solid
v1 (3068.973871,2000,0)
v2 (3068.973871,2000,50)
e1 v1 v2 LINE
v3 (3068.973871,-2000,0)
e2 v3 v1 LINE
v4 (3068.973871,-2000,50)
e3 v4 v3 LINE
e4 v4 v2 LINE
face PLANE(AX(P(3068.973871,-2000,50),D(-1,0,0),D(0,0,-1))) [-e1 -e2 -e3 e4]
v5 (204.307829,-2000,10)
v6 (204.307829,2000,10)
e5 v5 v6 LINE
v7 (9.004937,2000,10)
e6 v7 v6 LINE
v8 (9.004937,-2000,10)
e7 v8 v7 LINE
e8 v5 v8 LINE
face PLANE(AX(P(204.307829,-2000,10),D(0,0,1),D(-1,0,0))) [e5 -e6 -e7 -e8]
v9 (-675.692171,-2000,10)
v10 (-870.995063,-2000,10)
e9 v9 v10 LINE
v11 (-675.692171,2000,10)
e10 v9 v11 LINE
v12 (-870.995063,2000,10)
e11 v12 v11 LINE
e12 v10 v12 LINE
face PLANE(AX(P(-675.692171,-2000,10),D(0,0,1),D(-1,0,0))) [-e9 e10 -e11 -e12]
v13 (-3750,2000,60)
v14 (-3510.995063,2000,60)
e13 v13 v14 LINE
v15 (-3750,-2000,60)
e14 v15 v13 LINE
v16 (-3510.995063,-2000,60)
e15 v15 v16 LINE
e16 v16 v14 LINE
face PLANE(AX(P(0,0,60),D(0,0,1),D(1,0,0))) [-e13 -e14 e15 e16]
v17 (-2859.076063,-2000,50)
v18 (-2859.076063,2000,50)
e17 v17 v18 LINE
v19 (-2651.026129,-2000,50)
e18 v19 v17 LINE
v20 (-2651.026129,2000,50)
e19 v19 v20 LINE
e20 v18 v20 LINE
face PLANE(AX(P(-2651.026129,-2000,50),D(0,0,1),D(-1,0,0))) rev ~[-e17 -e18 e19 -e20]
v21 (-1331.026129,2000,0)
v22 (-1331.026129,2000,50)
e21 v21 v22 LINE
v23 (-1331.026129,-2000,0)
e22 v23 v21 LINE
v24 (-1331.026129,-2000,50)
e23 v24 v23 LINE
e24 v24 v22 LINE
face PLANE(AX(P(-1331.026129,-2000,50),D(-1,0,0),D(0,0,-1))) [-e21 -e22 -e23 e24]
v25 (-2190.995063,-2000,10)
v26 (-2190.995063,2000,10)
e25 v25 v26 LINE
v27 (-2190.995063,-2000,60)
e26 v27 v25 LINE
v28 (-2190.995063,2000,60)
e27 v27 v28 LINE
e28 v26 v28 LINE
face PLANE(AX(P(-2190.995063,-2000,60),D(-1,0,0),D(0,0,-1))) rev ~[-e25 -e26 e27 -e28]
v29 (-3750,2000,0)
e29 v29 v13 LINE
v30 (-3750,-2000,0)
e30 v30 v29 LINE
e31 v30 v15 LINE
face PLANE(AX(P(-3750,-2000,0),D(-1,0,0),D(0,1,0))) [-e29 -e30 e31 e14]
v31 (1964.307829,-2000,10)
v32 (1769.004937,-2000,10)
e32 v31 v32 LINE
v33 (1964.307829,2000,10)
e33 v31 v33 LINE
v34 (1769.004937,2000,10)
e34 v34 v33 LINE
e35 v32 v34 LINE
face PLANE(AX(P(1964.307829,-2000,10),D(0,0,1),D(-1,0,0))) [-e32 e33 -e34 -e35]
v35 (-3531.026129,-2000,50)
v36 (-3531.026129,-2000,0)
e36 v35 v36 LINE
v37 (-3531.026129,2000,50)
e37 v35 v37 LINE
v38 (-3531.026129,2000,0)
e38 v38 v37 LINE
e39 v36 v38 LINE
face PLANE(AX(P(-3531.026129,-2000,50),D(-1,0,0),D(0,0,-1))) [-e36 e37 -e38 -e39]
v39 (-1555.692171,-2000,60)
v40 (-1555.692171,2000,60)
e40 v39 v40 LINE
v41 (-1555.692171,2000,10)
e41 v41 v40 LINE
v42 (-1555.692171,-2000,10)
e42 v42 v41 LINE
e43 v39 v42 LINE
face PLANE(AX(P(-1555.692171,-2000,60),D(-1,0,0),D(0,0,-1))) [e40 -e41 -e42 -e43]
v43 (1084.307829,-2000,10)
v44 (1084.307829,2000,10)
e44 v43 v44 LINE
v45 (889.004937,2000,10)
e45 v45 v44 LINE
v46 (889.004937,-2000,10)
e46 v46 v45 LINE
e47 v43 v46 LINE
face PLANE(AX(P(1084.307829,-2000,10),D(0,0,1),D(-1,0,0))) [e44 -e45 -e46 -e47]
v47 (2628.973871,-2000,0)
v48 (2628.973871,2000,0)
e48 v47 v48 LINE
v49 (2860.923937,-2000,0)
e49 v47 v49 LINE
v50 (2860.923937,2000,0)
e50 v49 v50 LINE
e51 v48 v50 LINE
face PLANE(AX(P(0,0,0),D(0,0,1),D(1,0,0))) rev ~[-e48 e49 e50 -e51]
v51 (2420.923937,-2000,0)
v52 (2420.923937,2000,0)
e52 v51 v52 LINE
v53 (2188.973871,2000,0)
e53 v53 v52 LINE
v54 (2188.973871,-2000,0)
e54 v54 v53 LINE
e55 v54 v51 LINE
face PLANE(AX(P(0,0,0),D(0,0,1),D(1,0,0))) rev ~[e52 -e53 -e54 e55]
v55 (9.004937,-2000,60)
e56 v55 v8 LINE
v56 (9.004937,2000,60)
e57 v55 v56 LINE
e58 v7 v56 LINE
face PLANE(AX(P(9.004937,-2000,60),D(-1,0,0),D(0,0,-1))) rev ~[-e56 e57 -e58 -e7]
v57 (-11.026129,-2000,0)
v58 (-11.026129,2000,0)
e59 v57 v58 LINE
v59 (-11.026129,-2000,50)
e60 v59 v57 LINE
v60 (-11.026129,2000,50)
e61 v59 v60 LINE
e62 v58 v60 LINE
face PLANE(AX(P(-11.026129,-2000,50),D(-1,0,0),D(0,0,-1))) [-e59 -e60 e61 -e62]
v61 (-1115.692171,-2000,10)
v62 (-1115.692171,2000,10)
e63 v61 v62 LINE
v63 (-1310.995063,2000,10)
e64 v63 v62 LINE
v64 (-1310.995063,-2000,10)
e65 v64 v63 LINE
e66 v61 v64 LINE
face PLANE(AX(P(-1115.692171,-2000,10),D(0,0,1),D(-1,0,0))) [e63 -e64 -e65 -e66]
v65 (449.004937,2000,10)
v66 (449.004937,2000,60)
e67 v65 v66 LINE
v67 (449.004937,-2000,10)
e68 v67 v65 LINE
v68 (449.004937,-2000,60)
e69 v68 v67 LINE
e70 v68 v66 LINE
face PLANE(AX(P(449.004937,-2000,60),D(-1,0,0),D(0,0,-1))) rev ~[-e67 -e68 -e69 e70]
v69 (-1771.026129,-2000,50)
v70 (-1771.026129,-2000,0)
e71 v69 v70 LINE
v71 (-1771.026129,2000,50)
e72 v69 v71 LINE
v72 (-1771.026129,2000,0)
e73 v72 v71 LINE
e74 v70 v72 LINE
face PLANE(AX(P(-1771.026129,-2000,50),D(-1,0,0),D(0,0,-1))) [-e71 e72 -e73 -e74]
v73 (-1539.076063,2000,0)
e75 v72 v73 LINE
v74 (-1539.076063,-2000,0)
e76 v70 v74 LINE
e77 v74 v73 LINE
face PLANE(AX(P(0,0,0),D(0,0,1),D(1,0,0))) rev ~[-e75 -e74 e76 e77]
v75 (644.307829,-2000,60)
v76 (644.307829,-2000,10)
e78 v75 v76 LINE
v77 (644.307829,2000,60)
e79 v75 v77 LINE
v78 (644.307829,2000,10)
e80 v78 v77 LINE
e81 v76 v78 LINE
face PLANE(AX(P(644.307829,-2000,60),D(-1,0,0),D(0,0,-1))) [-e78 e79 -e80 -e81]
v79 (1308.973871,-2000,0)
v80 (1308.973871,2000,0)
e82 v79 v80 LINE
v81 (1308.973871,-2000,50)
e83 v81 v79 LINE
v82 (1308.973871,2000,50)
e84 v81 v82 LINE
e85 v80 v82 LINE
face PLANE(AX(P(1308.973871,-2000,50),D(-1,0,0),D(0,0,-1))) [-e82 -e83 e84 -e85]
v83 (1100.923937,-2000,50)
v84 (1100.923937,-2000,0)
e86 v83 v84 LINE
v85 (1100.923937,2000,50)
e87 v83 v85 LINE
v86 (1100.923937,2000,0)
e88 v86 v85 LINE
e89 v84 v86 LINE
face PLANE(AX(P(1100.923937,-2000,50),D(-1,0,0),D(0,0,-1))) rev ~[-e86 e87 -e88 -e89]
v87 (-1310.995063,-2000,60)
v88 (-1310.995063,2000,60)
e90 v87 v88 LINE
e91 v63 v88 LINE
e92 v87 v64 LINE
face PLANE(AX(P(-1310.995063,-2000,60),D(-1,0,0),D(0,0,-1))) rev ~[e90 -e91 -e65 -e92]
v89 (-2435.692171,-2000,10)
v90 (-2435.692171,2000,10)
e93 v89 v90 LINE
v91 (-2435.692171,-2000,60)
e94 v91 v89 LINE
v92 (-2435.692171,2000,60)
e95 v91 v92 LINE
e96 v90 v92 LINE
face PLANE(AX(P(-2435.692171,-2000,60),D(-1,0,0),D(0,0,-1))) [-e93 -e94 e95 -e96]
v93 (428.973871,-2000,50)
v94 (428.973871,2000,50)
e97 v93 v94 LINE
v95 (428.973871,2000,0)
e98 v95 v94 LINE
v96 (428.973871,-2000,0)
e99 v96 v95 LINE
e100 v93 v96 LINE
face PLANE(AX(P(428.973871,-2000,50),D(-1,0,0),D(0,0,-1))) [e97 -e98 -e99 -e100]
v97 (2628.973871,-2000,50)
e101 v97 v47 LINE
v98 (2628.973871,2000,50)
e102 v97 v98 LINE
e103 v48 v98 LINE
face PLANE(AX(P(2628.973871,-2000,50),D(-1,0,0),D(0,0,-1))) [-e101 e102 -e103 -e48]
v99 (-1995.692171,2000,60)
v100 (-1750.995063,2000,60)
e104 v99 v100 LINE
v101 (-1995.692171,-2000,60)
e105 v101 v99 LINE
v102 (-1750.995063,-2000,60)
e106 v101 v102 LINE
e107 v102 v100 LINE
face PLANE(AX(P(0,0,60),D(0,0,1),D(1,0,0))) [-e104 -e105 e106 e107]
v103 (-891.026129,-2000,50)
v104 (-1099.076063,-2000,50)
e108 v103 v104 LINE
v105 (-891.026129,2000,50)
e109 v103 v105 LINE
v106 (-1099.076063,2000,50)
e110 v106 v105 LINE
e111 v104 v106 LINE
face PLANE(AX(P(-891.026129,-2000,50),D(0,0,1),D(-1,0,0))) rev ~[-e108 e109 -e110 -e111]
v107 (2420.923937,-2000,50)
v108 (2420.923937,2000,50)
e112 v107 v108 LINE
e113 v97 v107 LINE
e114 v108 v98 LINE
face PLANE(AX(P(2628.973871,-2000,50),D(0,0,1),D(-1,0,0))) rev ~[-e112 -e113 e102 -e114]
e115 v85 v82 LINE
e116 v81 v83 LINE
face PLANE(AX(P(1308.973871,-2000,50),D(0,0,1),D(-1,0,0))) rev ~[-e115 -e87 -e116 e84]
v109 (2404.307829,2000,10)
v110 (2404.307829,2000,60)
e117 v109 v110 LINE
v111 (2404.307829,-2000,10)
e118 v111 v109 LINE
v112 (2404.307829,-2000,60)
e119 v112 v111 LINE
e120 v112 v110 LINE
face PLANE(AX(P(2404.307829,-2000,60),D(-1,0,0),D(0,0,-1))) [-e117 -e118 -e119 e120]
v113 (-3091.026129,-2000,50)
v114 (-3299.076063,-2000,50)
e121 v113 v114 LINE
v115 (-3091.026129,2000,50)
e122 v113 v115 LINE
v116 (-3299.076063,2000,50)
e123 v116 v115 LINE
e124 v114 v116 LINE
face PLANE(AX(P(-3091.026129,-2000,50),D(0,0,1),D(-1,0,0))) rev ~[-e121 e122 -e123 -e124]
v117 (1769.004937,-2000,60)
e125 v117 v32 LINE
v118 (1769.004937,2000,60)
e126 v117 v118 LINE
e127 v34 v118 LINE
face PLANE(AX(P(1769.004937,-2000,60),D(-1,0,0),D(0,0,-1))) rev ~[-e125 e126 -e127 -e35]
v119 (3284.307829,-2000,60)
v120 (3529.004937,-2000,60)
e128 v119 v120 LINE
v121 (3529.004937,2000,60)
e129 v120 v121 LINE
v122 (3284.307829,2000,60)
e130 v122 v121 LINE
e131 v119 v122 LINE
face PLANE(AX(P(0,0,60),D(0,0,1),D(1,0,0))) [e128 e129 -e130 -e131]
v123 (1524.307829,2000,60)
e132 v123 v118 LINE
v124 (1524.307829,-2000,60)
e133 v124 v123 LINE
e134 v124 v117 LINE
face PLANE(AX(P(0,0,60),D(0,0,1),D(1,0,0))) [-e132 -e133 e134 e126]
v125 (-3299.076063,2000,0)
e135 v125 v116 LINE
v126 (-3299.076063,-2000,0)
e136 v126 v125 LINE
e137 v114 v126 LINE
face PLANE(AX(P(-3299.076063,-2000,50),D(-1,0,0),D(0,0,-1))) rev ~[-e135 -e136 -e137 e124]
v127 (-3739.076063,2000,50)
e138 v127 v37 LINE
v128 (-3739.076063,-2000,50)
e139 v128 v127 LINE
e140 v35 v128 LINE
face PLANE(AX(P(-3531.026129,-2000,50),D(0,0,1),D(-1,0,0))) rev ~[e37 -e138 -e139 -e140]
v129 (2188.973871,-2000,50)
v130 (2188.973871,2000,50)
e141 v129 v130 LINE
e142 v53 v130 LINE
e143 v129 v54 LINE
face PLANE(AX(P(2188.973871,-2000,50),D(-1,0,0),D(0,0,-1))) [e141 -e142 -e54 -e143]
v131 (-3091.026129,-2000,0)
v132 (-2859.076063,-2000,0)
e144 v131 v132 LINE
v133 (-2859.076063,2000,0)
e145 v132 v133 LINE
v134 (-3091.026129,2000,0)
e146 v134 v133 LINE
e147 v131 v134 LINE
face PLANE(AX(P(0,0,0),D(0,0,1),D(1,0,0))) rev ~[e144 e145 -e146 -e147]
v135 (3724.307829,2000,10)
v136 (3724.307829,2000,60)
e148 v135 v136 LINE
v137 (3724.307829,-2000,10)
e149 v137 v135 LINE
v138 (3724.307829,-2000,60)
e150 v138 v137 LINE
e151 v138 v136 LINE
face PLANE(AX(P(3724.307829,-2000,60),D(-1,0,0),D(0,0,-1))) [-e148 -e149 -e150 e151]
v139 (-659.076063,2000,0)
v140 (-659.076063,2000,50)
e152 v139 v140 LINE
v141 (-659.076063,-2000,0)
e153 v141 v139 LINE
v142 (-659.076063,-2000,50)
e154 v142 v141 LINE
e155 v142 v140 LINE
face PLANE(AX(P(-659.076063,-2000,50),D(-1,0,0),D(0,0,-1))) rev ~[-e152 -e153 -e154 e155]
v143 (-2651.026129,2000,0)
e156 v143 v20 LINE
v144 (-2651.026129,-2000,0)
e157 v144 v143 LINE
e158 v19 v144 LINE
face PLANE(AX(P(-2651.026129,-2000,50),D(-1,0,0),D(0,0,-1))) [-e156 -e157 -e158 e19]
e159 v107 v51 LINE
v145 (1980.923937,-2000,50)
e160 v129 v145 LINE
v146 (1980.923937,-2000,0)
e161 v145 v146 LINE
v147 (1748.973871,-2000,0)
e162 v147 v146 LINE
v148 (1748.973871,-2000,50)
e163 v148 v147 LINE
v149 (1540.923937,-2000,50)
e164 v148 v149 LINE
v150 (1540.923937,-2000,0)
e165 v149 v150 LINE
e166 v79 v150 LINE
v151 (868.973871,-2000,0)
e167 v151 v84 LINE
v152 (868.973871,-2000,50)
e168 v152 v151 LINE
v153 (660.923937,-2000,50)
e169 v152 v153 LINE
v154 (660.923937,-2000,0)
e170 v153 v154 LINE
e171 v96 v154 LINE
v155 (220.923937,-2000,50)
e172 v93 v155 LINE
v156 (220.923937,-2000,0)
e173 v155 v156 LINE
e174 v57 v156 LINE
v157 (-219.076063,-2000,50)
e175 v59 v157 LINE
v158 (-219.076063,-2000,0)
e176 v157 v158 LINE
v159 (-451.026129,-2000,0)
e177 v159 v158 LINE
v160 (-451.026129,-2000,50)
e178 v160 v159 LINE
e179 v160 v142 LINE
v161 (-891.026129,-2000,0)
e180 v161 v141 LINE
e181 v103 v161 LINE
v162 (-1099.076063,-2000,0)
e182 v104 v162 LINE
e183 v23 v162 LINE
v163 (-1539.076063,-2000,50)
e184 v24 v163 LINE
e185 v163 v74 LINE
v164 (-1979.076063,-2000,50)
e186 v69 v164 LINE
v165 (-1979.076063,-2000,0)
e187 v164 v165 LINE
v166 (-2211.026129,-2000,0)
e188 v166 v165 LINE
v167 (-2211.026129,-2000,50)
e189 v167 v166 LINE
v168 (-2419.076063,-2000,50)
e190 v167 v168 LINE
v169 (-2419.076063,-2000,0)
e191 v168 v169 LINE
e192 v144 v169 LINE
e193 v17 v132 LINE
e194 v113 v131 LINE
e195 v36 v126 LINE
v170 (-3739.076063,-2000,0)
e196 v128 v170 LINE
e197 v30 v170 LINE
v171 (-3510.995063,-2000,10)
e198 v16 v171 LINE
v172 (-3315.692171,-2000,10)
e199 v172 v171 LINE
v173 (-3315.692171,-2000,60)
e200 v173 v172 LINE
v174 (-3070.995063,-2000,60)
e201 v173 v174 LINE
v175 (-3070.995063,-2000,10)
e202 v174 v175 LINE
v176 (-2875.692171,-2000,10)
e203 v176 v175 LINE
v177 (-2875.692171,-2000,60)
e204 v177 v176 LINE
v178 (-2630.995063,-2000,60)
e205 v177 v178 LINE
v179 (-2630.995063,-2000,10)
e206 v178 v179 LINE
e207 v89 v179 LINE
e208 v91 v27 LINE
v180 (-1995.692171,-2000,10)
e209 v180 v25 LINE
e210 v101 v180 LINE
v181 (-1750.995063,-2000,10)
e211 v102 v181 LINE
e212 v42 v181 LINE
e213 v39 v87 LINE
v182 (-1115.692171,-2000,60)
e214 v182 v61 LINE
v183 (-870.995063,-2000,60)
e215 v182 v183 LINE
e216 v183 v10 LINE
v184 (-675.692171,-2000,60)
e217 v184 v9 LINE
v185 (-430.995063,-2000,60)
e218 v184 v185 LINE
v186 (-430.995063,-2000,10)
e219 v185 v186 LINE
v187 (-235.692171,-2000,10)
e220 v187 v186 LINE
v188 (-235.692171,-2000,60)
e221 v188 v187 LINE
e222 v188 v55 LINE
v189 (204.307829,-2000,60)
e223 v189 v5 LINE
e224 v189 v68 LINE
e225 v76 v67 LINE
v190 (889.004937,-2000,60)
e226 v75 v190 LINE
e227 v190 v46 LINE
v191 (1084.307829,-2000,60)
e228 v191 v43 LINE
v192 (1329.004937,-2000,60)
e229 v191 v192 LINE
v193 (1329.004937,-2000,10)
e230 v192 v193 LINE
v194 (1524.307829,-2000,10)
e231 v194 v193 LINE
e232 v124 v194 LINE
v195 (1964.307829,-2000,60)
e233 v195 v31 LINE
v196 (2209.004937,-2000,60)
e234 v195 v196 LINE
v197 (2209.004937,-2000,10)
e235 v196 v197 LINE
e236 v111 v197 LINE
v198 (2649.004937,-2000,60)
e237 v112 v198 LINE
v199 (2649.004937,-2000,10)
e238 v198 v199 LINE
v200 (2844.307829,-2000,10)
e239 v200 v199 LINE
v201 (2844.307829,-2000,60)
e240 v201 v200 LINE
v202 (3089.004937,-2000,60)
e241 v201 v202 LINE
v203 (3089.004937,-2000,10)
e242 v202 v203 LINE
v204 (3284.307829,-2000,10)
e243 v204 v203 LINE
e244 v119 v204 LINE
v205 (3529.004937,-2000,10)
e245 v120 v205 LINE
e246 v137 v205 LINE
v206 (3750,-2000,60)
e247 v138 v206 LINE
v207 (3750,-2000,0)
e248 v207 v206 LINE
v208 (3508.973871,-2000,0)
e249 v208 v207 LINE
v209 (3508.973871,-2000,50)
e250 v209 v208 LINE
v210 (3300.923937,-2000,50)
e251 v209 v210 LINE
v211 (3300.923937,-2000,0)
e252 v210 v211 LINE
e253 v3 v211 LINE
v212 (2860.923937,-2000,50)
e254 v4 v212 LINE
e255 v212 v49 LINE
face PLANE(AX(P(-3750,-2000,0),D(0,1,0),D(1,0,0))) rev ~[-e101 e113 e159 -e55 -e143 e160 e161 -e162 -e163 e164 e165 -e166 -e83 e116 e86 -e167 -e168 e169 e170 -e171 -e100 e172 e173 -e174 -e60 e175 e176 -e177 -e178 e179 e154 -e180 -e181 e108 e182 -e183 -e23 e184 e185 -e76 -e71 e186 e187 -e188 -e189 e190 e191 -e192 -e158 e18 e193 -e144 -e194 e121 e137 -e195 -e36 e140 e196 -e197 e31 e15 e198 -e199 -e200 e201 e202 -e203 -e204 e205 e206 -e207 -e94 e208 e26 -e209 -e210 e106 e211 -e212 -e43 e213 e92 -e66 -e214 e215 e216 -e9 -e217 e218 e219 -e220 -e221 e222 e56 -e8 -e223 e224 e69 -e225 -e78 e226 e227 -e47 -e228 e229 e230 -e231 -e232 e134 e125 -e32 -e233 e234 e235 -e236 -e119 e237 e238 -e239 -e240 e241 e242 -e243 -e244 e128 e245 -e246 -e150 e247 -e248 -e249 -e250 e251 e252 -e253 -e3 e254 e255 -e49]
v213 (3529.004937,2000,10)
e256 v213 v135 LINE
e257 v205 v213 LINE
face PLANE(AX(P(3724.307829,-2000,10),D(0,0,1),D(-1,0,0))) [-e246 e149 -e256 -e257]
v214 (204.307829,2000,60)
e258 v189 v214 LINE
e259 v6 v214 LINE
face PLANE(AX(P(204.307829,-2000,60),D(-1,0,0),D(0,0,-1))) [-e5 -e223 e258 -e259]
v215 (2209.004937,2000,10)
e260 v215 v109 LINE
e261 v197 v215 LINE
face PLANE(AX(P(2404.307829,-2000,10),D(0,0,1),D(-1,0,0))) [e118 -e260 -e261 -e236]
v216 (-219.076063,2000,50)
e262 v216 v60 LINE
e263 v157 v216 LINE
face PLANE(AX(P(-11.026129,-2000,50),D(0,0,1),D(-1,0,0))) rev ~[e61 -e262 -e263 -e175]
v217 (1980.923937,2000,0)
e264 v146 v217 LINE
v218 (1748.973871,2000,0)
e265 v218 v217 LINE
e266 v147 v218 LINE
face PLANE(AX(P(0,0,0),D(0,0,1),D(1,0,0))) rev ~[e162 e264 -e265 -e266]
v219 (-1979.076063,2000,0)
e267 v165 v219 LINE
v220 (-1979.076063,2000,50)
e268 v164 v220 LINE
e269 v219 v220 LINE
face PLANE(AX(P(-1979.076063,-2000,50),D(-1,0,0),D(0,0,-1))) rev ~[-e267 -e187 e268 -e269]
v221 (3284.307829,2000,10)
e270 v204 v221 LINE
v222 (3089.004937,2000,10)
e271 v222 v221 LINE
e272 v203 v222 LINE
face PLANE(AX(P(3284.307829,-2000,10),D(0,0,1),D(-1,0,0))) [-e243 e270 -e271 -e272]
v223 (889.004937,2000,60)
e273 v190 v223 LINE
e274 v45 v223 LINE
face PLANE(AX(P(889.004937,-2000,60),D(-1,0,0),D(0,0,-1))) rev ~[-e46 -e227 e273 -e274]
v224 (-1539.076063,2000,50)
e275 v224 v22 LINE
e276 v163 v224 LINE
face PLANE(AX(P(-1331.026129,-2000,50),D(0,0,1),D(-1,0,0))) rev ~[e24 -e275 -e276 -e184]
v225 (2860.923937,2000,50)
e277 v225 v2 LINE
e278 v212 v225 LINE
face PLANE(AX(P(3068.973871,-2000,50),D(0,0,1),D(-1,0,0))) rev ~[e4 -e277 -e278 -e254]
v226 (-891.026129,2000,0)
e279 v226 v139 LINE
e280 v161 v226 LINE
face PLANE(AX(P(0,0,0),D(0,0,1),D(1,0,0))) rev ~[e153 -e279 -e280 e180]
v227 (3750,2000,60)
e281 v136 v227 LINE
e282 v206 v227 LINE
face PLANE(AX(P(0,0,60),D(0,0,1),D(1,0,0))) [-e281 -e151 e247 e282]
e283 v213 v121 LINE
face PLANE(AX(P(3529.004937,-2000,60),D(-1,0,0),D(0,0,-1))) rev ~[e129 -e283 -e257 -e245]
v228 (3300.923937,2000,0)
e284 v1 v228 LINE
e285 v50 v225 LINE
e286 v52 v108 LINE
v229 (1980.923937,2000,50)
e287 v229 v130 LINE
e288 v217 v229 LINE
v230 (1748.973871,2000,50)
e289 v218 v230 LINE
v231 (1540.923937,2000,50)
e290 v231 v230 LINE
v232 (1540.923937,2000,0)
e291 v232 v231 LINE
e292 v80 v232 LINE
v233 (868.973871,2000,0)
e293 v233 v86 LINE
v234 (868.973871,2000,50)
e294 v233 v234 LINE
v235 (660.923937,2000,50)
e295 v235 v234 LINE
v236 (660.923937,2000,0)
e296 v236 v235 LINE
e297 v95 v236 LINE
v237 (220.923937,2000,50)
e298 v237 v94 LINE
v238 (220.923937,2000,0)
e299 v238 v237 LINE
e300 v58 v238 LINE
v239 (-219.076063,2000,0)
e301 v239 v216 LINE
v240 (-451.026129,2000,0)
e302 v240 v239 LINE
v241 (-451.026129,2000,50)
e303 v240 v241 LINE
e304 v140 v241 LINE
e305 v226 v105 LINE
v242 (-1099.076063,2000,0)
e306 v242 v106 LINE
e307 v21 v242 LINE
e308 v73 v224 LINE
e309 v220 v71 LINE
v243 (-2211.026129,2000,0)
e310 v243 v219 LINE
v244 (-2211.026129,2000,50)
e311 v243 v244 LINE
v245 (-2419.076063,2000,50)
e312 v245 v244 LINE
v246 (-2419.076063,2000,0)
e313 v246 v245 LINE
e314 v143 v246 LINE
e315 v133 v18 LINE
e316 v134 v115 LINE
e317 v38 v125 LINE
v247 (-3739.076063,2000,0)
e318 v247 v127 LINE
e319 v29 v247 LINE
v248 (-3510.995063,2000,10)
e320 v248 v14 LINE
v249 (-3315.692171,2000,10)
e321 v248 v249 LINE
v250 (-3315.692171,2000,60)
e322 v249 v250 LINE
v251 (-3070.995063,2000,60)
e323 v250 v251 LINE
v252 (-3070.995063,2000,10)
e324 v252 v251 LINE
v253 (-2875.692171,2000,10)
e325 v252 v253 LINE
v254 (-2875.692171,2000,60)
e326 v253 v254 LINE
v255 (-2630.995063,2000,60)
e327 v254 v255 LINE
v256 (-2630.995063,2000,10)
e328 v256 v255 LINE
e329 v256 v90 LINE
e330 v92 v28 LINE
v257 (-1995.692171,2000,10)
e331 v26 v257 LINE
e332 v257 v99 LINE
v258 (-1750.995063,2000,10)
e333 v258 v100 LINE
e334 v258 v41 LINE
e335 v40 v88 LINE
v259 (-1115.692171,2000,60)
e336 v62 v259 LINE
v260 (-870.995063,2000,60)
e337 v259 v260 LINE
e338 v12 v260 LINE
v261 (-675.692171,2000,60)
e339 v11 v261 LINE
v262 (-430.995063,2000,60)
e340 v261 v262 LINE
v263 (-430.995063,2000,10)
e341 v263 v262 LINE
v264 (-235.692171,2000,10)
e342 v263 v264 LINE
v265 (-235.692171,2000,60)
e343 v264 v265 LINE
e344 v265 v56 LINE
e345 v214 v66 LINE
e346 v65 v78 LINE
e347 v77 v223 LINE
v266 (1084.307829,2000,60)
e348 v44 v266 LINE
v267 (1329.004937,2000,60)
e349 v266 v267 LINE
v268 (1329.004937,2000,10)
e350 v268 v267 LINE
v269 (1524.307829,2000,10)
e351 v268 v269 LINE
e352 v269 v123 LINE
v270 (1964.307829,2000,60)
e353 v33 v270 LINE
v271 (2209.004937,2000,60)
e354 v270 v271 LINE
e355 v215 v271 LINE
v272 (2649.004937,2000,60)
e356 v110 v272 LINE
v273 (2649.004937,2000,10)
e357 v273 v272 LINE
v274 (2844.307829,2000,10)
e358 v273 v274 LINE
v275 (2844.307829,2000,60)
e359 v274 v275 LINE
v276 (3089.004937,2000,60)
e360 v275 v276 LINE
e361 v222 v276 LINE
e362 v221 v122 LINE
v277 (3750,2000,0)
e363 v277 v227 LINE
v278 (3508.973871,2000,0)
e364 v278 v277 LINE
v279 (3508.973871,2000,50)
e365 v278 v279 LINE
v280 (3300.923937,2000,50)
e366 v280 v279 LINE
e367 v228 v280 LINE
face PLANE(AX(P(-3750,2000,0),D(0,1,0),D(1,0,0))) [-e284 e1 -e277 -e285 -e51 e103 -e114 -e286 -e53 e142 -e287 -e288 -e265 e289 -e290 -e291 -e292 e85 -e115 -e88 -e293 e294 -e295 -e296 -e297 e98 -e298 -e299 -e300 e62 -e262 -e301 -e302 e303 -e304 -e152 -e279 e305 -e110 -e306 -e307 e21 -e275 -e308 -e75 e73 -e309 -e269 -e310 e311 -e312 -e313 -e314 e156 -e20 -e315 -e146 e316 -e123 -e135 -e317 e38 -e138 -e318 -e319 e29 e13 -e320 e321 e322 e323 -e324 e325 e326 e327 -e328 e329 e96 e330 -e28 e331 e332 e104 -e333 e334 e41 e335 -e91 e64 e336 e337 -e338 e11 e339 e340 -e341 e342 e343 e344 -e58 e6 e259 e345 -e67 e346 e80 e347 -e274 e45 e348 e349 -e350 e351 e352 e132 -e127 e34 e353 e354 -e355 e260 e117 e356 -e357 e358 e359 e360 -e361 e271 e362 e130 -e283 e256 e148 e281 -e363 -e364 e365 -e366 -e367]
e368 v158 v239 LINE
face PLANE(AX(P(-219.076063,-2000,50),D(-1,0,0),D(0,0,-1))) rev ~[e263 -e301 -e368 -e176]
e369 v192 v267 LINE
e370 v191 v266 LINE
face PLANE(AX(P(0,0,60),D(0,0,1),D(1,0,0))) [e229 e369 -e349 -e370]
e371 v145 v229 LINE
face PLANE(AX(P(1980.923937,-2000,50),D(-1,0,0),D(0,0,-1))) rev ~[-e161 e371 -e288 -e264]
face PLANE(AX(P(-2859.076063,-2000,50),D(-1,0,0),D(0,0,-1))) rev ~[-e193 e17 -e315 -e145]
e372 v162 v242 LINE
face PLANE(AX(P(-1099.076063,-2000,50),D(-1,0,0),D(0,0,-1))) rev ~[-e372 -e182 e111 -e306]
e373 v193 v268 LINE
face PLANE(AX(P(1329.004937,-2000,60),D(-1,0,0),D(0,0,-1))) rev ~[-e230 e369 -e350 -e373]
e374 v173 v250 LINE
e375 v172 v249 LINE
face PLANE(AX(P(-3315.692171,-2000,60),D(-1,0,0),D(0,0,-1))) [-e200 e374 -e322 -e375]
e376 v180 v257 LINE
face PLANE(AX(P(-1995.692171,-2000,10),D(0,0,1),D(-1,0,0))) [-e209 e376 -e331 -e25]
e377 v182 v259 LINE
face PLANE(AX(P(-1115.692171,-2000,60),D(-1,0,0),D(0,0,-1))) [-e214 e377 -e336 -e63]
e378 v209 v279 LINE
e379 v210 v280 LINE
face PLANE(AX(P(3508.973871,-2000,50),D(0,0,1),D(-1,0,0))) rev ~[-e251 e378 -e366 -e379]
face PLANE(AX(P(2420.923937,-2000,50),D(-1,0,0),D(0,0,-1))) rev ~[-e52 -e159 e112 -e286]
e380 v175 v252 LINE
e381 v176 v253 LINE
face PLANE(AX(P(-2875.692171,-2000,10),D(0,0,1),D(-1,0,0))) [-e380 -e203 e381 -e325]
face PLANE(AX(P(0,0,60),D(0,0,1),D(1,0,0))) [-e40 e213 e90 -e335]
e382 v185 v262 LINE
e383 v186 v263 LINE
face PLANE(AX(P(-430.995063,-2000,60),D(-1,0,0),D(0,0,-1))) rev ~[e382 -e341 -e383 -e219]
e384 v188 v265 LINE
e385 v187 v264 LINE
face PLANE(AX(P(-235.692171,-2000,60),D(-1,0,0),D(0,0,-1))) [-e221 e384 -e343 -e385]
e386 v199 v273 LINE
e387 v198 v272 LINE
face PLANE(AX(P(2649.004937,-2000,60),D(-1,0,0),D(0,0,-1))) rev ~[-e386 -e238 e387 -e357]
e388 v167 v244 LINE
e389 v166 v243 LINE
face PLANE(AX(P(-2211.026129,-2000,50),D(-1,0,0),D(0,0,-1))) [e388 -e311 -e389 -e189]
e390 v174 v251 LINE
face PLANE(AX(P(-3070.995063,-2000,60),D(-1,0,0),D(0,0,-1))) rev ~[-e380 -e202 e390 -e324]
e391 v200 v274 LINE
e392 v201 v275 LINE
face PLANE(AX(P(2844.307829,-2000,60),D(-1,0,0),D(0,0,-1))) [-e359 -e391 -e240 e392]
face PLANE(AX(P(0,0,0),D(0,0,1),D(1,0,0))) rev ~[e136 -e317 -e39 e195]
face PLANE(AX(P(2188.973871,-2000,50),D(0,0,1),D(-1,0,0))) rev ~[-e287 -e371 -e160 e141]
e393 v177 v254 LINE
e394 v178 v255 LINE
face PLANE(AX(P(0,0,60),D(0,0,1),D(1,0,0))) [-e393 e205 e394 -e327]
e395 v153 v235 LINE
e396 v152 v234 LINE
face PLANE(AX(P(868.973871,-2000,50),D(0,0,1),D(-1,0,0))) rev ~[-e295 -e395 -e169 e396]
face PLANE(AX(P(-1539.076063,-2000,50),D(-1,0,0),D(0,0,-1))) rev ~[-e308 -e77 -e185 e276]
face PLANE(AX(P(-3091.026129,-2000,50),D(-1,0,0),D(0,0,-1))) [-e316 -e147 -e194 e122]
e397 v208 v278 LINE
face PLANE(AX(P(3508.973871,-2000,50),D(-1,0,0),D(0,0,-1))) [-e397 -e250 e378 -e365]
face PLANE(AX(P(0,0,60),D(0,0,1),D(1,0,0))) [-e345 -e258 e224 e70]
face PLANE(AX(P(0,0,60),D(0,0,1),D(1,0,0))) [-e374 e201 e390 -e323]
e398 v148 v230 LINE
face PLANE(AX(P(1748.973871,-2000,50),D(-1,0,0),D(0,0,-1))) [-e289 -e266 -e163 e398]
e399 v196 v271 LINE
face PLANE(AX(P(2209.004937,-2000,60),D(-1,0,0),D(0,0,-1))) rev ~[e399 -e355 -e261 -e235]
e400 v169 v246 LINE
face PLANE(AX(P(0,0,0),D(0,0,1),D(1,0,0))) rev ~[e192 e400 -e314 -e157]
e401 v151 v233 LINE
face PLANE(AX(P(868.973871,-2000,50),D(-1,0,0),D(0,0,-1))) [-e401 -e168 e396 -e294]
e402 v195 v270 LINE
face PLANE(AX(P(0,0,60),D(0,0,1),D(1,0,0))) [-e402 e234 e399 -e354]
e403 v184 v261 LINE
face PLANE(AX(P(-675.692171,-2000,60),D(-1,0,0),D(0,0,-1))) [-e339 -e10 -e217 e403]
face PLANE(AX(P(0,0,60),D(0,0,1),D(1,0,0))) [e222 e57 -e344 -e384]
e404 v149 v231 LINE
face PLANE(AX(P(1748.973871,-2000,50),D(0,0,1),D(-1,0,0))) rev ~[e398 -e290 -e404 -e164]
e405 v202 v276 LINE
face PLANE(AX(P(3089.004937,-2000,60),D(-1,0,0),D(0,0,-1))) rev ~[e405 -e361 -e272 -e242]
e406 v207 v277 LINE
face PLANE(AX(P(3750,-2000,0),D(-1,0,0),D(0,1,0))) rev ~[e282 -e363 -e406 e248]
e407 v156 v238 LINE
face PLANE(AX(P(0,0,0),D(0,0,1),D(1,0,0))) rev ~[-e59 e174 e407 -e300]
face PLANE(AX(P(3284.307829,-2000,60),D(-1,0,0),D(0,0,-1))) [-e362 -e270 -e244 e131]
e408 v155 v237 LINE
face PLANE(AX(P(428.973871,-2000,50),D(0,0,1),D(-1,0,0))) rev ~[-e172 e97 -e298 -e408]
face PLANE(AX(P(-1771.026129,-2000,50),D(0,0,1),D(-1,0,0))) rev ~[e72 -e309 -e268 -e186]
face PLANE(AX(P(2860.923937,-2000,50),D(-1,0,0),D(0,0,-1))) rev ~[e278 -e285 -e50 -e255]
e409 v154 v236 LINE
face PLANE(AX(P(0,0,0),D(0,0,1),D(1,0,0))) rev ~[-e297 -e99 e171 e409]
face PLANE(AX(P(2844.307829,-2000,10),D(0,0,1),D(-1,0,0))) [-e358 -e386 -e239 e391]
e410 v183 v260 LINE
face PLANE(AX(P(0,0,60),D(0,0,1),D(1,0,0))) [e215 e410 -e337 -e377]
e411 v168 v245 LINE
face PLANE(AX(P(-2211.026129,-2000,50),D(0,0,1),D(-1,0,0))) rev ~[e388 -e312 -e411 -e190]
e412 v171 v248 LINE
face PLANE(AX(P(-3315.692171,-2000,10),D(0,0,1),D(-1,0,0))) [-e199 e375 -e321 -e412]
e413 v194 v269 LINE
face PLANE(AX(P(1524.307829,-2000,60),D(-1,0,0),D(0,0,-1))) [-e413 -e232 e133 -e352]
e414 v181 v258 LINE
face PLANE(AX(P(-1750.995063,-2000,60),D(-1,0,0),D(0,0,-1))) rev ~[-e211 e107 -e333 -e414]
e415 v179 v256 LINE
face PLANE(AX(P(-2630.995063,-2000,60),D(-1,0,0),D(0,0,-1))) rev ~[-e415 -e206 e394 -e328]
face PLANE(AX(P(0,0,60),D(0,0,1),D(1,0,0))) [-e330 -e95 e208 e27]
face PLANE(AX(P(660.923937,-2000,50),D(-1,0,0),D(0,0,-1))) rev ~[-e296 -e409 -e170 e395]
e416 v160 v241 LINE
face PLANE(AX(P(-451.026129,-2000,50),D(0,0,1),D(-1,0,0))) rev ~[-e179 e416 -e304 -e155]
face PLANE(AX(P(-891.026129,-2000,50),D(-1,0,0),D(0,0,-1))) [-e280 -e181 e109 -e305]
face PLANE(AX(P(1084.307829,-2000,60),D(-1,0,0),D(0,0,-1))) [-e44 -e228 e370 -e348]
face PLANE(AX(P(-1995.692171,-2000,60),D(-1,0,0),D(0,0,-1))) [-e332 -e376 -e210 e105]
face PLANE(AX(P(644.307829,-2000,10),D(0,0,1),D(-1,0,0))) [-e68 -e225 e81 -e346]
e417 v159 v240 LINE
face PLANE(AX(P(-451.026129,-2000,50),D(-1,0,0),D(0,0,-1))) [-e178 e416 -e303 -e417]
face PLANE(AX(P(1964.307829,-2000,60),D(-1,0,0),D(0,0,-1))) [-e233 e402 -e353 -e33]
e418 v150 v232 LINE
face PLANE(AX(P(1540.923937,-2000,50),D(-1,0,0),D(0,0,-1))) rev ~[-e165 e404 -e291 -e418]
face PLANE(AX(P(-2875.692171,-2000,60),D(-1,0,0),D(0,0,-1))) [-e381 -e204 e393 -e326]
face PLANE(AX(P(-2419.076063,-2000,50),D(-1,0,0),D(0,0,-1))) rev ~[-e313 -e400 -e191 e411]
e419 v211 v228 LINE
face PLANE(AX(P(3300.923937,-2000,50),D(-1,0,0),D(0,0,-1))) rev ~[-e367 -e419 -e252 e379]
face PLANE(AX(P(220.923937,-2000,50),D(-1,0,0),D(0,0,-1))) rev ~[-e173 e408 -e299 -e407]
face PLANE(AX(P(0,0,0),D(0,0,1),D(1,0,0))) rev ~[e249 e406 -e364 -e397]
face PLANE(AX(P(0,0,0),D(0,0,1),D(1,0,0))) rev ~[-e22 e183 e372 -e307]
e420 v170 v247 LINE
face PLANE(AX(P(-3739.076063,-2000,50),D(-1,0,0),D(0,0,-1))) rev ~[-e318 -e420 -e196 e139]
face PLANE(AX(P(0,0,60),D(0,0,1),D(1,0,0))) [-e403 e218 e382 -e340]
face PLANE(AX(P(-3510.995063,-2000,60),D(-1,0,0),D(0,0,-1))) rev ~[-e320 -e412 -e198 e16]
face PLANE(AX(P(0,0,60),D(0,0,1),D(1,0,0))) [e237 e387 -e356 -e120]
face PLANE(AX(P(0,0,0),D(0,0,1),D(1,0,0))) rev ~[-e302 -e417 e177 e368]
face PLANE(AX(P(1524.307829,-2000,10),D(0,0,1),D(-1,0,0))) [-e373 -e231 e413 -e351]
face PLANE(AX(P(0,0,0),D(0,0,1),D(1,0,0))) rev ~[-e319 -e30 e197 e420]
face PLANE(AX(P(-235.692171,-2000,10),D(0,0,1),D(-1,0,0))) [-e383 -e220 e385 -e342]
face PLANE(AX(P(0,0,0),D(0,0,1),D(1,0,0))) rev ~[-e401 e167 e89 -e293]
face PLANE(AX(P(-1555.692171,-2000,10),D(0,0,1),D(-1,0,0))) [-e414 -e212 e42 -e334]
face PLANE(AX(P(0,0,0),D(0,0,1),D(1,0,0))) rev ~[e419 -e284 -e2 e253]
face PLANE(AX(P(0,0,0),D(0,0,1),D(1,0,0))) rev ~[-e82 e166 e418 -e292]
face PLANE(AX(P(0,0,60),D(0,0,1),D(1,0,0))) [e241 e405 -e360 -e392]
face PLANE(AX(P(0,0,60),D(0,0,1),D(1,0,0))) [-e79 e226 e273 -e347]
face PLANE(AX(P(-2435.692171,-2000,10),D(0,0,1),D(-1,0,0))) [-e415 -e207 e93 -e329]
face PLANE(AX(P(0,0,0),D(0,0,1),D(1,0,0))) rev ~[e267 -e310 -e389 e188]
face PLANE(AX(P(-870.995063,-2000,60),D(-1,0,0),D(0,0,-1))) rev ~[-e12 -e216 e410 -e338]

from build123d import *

# Parameters (mm, degrees)
SKETCH1_W           = 7500
SKETCH1_H           = 4000
BOSS_EXTRUDE1_DEPTH = 60
SKETCH2_W           = 208.04993412
SKETCH2_H           = 50
SKETCH2_W_2         = 195.302892205
CUT_EXTRUDE1_DEPTH  = 5107


with BuildPart() as part:
    # Sketch1 → Boss-Extrude1 (new body)
    with BuildSketch(Plane.XY):
        Rectangle(SKETCH1_W, SKETCH1_H)
    extrude(amount=BOSS_EXTRUDE1_DEPTH)

    # Sketch2 → Cut-Extrude1 (cut)
    with BuildSketch(Plane(origin=(0, -2000, 0), x_dir=(-1, 0, 0), z_dir=(0, -1, 0))):
        with Locations((3635.051095731, -25)):
            Rectangle(SKETCH2_W, SKETCH2_H)
        with Locations((3413.343616701, -35)):
            Rectangle(SKETCH2_W_2, SKETCH2_H)
        with Locations((3195.051095731, -25)):
            Rectangle(SKETCH2_W, SKETCH2_H)
        with Locations((2973.343616701, -35)):
            Rectangle(SKETCH2_W_2, SKETCH2_H)
        with Locations((2755.051095731, -25)):
            Rectangle(SKETCH2_W, SKETCH2_H)
        with Locations((2533.343616701, -35)):
            Rectangle(SKETCH2_W_2, SKETCH2_H)
        with Locations((2315.051095731, -25)):
            Rectangle(SKETCH2_W, SKETCH2_H)
        with Locations((2093.343616701, -35)):
            Rectangle(SKETCH2_W_2, SKETCH2_H)
        with Locations((1875.051095731, -25)):
            Rectangle(SKETCH2_W, SKETCH2_H)
        with Locations((1653.343616701, -35)):
            Rectangle(SKETCH2_W_2, SKETCH2_H)
        with Locations((1435.051095731, -25)):
            Rectangle(SKETCH2_W, SKETCH2_H)
        with Locations((1213.343616701, -35)):
            Rectangle(SKETCH2_W_2, SKETCH2_H)
        with Locations((995.051095731, -25)):
            Rectangle(SKETCH2_W, SKETCH2_H)
        with Locations((773.343616701, -35)):
            Rectangle(SKETCH2_W_2, SKETCH2_H)
        with Locations((555.051095731, -25)):
            Rectangle(SKETCH2_W, SKETCH2_H)
        with Locations((333.343616701, -35)):
            Rectangle(SKETCH2_W_2, SKETCH2_H)
        with Locations((115.051095731, -25)):
            Rectangle(SKETCH2_W, SKETCH2_H)
        with Locations((-106.6563833, -35)):
            Rectangle(SKETCH2_W_2, SKETCH2_H)
        with Locations((-324.948904269, -25)):
            Rectangle(SKETCH2_W, SKETCH2_H)
        with Locations((-546.6563833, -35)):
            Rectangle(SKETCH2_W_2, SKETCH2_H)
        with Locations((-764.948904269, -25)):
            Rectangle(SKETCH2_W, SKETCH2_H)
        with Locations((-986.6563833, -35)):
            Rectangle(SKETCH2_W_2, SKETCH2_H)
        with Locations((-1204.948904269, -25)):
            Rectangle(SKETCH2_W, SKETCH2_H)
        with Locations((-1426.6563833, -35)):
            Rectangle(SKETCH2_W_2, SKETCH2_H)
        with Locations((-1644.948904269, -25)):
            Rectangle(SKETCH2_W, SKETCH2_H)
        with Locations((-1866.6563833, -35)):
            Rectangle(SKETCH2_W_2, SKETCH2_H)
        with Locations((-2084.948904269, -25)):
            Rectangle(SKETCH2_W, SKETCH2_H)
        with Locations((-2306.6563833, -35)):
            Rectangle(SKETCH2_W_2, SKETCH2_H)
        with Locations((-2524.948904269, -25)):
            Rectangle(SKETCH2_W, SKETCH2_H)
        with Locations((-2746.6563833, -35)):
            Rectangle(SKETCH2_W_2, SKETCH2_H)
        with Locations((-2964.948904269, -25)):
            Rectangle(SKETCH2_W, SKETCH2_H)
        with Locations((-3186.6563833, -35)):
            Rectangle(SKETCH2_W_2, SKETCH2_H)
        with Locations((-3404.948904269, -25)):
            Rectangle(SKETCH2_W, SKETCH2_H)
        with Locations((-3626.6563833, -35)):
            Rectangle(SKETCH2_W_2, SKETCH2_H)
    extrude(amount=-CUT_EXTRUDE1_DEPTH, mode=Mode.SUBTRACT)


solid = part.part
